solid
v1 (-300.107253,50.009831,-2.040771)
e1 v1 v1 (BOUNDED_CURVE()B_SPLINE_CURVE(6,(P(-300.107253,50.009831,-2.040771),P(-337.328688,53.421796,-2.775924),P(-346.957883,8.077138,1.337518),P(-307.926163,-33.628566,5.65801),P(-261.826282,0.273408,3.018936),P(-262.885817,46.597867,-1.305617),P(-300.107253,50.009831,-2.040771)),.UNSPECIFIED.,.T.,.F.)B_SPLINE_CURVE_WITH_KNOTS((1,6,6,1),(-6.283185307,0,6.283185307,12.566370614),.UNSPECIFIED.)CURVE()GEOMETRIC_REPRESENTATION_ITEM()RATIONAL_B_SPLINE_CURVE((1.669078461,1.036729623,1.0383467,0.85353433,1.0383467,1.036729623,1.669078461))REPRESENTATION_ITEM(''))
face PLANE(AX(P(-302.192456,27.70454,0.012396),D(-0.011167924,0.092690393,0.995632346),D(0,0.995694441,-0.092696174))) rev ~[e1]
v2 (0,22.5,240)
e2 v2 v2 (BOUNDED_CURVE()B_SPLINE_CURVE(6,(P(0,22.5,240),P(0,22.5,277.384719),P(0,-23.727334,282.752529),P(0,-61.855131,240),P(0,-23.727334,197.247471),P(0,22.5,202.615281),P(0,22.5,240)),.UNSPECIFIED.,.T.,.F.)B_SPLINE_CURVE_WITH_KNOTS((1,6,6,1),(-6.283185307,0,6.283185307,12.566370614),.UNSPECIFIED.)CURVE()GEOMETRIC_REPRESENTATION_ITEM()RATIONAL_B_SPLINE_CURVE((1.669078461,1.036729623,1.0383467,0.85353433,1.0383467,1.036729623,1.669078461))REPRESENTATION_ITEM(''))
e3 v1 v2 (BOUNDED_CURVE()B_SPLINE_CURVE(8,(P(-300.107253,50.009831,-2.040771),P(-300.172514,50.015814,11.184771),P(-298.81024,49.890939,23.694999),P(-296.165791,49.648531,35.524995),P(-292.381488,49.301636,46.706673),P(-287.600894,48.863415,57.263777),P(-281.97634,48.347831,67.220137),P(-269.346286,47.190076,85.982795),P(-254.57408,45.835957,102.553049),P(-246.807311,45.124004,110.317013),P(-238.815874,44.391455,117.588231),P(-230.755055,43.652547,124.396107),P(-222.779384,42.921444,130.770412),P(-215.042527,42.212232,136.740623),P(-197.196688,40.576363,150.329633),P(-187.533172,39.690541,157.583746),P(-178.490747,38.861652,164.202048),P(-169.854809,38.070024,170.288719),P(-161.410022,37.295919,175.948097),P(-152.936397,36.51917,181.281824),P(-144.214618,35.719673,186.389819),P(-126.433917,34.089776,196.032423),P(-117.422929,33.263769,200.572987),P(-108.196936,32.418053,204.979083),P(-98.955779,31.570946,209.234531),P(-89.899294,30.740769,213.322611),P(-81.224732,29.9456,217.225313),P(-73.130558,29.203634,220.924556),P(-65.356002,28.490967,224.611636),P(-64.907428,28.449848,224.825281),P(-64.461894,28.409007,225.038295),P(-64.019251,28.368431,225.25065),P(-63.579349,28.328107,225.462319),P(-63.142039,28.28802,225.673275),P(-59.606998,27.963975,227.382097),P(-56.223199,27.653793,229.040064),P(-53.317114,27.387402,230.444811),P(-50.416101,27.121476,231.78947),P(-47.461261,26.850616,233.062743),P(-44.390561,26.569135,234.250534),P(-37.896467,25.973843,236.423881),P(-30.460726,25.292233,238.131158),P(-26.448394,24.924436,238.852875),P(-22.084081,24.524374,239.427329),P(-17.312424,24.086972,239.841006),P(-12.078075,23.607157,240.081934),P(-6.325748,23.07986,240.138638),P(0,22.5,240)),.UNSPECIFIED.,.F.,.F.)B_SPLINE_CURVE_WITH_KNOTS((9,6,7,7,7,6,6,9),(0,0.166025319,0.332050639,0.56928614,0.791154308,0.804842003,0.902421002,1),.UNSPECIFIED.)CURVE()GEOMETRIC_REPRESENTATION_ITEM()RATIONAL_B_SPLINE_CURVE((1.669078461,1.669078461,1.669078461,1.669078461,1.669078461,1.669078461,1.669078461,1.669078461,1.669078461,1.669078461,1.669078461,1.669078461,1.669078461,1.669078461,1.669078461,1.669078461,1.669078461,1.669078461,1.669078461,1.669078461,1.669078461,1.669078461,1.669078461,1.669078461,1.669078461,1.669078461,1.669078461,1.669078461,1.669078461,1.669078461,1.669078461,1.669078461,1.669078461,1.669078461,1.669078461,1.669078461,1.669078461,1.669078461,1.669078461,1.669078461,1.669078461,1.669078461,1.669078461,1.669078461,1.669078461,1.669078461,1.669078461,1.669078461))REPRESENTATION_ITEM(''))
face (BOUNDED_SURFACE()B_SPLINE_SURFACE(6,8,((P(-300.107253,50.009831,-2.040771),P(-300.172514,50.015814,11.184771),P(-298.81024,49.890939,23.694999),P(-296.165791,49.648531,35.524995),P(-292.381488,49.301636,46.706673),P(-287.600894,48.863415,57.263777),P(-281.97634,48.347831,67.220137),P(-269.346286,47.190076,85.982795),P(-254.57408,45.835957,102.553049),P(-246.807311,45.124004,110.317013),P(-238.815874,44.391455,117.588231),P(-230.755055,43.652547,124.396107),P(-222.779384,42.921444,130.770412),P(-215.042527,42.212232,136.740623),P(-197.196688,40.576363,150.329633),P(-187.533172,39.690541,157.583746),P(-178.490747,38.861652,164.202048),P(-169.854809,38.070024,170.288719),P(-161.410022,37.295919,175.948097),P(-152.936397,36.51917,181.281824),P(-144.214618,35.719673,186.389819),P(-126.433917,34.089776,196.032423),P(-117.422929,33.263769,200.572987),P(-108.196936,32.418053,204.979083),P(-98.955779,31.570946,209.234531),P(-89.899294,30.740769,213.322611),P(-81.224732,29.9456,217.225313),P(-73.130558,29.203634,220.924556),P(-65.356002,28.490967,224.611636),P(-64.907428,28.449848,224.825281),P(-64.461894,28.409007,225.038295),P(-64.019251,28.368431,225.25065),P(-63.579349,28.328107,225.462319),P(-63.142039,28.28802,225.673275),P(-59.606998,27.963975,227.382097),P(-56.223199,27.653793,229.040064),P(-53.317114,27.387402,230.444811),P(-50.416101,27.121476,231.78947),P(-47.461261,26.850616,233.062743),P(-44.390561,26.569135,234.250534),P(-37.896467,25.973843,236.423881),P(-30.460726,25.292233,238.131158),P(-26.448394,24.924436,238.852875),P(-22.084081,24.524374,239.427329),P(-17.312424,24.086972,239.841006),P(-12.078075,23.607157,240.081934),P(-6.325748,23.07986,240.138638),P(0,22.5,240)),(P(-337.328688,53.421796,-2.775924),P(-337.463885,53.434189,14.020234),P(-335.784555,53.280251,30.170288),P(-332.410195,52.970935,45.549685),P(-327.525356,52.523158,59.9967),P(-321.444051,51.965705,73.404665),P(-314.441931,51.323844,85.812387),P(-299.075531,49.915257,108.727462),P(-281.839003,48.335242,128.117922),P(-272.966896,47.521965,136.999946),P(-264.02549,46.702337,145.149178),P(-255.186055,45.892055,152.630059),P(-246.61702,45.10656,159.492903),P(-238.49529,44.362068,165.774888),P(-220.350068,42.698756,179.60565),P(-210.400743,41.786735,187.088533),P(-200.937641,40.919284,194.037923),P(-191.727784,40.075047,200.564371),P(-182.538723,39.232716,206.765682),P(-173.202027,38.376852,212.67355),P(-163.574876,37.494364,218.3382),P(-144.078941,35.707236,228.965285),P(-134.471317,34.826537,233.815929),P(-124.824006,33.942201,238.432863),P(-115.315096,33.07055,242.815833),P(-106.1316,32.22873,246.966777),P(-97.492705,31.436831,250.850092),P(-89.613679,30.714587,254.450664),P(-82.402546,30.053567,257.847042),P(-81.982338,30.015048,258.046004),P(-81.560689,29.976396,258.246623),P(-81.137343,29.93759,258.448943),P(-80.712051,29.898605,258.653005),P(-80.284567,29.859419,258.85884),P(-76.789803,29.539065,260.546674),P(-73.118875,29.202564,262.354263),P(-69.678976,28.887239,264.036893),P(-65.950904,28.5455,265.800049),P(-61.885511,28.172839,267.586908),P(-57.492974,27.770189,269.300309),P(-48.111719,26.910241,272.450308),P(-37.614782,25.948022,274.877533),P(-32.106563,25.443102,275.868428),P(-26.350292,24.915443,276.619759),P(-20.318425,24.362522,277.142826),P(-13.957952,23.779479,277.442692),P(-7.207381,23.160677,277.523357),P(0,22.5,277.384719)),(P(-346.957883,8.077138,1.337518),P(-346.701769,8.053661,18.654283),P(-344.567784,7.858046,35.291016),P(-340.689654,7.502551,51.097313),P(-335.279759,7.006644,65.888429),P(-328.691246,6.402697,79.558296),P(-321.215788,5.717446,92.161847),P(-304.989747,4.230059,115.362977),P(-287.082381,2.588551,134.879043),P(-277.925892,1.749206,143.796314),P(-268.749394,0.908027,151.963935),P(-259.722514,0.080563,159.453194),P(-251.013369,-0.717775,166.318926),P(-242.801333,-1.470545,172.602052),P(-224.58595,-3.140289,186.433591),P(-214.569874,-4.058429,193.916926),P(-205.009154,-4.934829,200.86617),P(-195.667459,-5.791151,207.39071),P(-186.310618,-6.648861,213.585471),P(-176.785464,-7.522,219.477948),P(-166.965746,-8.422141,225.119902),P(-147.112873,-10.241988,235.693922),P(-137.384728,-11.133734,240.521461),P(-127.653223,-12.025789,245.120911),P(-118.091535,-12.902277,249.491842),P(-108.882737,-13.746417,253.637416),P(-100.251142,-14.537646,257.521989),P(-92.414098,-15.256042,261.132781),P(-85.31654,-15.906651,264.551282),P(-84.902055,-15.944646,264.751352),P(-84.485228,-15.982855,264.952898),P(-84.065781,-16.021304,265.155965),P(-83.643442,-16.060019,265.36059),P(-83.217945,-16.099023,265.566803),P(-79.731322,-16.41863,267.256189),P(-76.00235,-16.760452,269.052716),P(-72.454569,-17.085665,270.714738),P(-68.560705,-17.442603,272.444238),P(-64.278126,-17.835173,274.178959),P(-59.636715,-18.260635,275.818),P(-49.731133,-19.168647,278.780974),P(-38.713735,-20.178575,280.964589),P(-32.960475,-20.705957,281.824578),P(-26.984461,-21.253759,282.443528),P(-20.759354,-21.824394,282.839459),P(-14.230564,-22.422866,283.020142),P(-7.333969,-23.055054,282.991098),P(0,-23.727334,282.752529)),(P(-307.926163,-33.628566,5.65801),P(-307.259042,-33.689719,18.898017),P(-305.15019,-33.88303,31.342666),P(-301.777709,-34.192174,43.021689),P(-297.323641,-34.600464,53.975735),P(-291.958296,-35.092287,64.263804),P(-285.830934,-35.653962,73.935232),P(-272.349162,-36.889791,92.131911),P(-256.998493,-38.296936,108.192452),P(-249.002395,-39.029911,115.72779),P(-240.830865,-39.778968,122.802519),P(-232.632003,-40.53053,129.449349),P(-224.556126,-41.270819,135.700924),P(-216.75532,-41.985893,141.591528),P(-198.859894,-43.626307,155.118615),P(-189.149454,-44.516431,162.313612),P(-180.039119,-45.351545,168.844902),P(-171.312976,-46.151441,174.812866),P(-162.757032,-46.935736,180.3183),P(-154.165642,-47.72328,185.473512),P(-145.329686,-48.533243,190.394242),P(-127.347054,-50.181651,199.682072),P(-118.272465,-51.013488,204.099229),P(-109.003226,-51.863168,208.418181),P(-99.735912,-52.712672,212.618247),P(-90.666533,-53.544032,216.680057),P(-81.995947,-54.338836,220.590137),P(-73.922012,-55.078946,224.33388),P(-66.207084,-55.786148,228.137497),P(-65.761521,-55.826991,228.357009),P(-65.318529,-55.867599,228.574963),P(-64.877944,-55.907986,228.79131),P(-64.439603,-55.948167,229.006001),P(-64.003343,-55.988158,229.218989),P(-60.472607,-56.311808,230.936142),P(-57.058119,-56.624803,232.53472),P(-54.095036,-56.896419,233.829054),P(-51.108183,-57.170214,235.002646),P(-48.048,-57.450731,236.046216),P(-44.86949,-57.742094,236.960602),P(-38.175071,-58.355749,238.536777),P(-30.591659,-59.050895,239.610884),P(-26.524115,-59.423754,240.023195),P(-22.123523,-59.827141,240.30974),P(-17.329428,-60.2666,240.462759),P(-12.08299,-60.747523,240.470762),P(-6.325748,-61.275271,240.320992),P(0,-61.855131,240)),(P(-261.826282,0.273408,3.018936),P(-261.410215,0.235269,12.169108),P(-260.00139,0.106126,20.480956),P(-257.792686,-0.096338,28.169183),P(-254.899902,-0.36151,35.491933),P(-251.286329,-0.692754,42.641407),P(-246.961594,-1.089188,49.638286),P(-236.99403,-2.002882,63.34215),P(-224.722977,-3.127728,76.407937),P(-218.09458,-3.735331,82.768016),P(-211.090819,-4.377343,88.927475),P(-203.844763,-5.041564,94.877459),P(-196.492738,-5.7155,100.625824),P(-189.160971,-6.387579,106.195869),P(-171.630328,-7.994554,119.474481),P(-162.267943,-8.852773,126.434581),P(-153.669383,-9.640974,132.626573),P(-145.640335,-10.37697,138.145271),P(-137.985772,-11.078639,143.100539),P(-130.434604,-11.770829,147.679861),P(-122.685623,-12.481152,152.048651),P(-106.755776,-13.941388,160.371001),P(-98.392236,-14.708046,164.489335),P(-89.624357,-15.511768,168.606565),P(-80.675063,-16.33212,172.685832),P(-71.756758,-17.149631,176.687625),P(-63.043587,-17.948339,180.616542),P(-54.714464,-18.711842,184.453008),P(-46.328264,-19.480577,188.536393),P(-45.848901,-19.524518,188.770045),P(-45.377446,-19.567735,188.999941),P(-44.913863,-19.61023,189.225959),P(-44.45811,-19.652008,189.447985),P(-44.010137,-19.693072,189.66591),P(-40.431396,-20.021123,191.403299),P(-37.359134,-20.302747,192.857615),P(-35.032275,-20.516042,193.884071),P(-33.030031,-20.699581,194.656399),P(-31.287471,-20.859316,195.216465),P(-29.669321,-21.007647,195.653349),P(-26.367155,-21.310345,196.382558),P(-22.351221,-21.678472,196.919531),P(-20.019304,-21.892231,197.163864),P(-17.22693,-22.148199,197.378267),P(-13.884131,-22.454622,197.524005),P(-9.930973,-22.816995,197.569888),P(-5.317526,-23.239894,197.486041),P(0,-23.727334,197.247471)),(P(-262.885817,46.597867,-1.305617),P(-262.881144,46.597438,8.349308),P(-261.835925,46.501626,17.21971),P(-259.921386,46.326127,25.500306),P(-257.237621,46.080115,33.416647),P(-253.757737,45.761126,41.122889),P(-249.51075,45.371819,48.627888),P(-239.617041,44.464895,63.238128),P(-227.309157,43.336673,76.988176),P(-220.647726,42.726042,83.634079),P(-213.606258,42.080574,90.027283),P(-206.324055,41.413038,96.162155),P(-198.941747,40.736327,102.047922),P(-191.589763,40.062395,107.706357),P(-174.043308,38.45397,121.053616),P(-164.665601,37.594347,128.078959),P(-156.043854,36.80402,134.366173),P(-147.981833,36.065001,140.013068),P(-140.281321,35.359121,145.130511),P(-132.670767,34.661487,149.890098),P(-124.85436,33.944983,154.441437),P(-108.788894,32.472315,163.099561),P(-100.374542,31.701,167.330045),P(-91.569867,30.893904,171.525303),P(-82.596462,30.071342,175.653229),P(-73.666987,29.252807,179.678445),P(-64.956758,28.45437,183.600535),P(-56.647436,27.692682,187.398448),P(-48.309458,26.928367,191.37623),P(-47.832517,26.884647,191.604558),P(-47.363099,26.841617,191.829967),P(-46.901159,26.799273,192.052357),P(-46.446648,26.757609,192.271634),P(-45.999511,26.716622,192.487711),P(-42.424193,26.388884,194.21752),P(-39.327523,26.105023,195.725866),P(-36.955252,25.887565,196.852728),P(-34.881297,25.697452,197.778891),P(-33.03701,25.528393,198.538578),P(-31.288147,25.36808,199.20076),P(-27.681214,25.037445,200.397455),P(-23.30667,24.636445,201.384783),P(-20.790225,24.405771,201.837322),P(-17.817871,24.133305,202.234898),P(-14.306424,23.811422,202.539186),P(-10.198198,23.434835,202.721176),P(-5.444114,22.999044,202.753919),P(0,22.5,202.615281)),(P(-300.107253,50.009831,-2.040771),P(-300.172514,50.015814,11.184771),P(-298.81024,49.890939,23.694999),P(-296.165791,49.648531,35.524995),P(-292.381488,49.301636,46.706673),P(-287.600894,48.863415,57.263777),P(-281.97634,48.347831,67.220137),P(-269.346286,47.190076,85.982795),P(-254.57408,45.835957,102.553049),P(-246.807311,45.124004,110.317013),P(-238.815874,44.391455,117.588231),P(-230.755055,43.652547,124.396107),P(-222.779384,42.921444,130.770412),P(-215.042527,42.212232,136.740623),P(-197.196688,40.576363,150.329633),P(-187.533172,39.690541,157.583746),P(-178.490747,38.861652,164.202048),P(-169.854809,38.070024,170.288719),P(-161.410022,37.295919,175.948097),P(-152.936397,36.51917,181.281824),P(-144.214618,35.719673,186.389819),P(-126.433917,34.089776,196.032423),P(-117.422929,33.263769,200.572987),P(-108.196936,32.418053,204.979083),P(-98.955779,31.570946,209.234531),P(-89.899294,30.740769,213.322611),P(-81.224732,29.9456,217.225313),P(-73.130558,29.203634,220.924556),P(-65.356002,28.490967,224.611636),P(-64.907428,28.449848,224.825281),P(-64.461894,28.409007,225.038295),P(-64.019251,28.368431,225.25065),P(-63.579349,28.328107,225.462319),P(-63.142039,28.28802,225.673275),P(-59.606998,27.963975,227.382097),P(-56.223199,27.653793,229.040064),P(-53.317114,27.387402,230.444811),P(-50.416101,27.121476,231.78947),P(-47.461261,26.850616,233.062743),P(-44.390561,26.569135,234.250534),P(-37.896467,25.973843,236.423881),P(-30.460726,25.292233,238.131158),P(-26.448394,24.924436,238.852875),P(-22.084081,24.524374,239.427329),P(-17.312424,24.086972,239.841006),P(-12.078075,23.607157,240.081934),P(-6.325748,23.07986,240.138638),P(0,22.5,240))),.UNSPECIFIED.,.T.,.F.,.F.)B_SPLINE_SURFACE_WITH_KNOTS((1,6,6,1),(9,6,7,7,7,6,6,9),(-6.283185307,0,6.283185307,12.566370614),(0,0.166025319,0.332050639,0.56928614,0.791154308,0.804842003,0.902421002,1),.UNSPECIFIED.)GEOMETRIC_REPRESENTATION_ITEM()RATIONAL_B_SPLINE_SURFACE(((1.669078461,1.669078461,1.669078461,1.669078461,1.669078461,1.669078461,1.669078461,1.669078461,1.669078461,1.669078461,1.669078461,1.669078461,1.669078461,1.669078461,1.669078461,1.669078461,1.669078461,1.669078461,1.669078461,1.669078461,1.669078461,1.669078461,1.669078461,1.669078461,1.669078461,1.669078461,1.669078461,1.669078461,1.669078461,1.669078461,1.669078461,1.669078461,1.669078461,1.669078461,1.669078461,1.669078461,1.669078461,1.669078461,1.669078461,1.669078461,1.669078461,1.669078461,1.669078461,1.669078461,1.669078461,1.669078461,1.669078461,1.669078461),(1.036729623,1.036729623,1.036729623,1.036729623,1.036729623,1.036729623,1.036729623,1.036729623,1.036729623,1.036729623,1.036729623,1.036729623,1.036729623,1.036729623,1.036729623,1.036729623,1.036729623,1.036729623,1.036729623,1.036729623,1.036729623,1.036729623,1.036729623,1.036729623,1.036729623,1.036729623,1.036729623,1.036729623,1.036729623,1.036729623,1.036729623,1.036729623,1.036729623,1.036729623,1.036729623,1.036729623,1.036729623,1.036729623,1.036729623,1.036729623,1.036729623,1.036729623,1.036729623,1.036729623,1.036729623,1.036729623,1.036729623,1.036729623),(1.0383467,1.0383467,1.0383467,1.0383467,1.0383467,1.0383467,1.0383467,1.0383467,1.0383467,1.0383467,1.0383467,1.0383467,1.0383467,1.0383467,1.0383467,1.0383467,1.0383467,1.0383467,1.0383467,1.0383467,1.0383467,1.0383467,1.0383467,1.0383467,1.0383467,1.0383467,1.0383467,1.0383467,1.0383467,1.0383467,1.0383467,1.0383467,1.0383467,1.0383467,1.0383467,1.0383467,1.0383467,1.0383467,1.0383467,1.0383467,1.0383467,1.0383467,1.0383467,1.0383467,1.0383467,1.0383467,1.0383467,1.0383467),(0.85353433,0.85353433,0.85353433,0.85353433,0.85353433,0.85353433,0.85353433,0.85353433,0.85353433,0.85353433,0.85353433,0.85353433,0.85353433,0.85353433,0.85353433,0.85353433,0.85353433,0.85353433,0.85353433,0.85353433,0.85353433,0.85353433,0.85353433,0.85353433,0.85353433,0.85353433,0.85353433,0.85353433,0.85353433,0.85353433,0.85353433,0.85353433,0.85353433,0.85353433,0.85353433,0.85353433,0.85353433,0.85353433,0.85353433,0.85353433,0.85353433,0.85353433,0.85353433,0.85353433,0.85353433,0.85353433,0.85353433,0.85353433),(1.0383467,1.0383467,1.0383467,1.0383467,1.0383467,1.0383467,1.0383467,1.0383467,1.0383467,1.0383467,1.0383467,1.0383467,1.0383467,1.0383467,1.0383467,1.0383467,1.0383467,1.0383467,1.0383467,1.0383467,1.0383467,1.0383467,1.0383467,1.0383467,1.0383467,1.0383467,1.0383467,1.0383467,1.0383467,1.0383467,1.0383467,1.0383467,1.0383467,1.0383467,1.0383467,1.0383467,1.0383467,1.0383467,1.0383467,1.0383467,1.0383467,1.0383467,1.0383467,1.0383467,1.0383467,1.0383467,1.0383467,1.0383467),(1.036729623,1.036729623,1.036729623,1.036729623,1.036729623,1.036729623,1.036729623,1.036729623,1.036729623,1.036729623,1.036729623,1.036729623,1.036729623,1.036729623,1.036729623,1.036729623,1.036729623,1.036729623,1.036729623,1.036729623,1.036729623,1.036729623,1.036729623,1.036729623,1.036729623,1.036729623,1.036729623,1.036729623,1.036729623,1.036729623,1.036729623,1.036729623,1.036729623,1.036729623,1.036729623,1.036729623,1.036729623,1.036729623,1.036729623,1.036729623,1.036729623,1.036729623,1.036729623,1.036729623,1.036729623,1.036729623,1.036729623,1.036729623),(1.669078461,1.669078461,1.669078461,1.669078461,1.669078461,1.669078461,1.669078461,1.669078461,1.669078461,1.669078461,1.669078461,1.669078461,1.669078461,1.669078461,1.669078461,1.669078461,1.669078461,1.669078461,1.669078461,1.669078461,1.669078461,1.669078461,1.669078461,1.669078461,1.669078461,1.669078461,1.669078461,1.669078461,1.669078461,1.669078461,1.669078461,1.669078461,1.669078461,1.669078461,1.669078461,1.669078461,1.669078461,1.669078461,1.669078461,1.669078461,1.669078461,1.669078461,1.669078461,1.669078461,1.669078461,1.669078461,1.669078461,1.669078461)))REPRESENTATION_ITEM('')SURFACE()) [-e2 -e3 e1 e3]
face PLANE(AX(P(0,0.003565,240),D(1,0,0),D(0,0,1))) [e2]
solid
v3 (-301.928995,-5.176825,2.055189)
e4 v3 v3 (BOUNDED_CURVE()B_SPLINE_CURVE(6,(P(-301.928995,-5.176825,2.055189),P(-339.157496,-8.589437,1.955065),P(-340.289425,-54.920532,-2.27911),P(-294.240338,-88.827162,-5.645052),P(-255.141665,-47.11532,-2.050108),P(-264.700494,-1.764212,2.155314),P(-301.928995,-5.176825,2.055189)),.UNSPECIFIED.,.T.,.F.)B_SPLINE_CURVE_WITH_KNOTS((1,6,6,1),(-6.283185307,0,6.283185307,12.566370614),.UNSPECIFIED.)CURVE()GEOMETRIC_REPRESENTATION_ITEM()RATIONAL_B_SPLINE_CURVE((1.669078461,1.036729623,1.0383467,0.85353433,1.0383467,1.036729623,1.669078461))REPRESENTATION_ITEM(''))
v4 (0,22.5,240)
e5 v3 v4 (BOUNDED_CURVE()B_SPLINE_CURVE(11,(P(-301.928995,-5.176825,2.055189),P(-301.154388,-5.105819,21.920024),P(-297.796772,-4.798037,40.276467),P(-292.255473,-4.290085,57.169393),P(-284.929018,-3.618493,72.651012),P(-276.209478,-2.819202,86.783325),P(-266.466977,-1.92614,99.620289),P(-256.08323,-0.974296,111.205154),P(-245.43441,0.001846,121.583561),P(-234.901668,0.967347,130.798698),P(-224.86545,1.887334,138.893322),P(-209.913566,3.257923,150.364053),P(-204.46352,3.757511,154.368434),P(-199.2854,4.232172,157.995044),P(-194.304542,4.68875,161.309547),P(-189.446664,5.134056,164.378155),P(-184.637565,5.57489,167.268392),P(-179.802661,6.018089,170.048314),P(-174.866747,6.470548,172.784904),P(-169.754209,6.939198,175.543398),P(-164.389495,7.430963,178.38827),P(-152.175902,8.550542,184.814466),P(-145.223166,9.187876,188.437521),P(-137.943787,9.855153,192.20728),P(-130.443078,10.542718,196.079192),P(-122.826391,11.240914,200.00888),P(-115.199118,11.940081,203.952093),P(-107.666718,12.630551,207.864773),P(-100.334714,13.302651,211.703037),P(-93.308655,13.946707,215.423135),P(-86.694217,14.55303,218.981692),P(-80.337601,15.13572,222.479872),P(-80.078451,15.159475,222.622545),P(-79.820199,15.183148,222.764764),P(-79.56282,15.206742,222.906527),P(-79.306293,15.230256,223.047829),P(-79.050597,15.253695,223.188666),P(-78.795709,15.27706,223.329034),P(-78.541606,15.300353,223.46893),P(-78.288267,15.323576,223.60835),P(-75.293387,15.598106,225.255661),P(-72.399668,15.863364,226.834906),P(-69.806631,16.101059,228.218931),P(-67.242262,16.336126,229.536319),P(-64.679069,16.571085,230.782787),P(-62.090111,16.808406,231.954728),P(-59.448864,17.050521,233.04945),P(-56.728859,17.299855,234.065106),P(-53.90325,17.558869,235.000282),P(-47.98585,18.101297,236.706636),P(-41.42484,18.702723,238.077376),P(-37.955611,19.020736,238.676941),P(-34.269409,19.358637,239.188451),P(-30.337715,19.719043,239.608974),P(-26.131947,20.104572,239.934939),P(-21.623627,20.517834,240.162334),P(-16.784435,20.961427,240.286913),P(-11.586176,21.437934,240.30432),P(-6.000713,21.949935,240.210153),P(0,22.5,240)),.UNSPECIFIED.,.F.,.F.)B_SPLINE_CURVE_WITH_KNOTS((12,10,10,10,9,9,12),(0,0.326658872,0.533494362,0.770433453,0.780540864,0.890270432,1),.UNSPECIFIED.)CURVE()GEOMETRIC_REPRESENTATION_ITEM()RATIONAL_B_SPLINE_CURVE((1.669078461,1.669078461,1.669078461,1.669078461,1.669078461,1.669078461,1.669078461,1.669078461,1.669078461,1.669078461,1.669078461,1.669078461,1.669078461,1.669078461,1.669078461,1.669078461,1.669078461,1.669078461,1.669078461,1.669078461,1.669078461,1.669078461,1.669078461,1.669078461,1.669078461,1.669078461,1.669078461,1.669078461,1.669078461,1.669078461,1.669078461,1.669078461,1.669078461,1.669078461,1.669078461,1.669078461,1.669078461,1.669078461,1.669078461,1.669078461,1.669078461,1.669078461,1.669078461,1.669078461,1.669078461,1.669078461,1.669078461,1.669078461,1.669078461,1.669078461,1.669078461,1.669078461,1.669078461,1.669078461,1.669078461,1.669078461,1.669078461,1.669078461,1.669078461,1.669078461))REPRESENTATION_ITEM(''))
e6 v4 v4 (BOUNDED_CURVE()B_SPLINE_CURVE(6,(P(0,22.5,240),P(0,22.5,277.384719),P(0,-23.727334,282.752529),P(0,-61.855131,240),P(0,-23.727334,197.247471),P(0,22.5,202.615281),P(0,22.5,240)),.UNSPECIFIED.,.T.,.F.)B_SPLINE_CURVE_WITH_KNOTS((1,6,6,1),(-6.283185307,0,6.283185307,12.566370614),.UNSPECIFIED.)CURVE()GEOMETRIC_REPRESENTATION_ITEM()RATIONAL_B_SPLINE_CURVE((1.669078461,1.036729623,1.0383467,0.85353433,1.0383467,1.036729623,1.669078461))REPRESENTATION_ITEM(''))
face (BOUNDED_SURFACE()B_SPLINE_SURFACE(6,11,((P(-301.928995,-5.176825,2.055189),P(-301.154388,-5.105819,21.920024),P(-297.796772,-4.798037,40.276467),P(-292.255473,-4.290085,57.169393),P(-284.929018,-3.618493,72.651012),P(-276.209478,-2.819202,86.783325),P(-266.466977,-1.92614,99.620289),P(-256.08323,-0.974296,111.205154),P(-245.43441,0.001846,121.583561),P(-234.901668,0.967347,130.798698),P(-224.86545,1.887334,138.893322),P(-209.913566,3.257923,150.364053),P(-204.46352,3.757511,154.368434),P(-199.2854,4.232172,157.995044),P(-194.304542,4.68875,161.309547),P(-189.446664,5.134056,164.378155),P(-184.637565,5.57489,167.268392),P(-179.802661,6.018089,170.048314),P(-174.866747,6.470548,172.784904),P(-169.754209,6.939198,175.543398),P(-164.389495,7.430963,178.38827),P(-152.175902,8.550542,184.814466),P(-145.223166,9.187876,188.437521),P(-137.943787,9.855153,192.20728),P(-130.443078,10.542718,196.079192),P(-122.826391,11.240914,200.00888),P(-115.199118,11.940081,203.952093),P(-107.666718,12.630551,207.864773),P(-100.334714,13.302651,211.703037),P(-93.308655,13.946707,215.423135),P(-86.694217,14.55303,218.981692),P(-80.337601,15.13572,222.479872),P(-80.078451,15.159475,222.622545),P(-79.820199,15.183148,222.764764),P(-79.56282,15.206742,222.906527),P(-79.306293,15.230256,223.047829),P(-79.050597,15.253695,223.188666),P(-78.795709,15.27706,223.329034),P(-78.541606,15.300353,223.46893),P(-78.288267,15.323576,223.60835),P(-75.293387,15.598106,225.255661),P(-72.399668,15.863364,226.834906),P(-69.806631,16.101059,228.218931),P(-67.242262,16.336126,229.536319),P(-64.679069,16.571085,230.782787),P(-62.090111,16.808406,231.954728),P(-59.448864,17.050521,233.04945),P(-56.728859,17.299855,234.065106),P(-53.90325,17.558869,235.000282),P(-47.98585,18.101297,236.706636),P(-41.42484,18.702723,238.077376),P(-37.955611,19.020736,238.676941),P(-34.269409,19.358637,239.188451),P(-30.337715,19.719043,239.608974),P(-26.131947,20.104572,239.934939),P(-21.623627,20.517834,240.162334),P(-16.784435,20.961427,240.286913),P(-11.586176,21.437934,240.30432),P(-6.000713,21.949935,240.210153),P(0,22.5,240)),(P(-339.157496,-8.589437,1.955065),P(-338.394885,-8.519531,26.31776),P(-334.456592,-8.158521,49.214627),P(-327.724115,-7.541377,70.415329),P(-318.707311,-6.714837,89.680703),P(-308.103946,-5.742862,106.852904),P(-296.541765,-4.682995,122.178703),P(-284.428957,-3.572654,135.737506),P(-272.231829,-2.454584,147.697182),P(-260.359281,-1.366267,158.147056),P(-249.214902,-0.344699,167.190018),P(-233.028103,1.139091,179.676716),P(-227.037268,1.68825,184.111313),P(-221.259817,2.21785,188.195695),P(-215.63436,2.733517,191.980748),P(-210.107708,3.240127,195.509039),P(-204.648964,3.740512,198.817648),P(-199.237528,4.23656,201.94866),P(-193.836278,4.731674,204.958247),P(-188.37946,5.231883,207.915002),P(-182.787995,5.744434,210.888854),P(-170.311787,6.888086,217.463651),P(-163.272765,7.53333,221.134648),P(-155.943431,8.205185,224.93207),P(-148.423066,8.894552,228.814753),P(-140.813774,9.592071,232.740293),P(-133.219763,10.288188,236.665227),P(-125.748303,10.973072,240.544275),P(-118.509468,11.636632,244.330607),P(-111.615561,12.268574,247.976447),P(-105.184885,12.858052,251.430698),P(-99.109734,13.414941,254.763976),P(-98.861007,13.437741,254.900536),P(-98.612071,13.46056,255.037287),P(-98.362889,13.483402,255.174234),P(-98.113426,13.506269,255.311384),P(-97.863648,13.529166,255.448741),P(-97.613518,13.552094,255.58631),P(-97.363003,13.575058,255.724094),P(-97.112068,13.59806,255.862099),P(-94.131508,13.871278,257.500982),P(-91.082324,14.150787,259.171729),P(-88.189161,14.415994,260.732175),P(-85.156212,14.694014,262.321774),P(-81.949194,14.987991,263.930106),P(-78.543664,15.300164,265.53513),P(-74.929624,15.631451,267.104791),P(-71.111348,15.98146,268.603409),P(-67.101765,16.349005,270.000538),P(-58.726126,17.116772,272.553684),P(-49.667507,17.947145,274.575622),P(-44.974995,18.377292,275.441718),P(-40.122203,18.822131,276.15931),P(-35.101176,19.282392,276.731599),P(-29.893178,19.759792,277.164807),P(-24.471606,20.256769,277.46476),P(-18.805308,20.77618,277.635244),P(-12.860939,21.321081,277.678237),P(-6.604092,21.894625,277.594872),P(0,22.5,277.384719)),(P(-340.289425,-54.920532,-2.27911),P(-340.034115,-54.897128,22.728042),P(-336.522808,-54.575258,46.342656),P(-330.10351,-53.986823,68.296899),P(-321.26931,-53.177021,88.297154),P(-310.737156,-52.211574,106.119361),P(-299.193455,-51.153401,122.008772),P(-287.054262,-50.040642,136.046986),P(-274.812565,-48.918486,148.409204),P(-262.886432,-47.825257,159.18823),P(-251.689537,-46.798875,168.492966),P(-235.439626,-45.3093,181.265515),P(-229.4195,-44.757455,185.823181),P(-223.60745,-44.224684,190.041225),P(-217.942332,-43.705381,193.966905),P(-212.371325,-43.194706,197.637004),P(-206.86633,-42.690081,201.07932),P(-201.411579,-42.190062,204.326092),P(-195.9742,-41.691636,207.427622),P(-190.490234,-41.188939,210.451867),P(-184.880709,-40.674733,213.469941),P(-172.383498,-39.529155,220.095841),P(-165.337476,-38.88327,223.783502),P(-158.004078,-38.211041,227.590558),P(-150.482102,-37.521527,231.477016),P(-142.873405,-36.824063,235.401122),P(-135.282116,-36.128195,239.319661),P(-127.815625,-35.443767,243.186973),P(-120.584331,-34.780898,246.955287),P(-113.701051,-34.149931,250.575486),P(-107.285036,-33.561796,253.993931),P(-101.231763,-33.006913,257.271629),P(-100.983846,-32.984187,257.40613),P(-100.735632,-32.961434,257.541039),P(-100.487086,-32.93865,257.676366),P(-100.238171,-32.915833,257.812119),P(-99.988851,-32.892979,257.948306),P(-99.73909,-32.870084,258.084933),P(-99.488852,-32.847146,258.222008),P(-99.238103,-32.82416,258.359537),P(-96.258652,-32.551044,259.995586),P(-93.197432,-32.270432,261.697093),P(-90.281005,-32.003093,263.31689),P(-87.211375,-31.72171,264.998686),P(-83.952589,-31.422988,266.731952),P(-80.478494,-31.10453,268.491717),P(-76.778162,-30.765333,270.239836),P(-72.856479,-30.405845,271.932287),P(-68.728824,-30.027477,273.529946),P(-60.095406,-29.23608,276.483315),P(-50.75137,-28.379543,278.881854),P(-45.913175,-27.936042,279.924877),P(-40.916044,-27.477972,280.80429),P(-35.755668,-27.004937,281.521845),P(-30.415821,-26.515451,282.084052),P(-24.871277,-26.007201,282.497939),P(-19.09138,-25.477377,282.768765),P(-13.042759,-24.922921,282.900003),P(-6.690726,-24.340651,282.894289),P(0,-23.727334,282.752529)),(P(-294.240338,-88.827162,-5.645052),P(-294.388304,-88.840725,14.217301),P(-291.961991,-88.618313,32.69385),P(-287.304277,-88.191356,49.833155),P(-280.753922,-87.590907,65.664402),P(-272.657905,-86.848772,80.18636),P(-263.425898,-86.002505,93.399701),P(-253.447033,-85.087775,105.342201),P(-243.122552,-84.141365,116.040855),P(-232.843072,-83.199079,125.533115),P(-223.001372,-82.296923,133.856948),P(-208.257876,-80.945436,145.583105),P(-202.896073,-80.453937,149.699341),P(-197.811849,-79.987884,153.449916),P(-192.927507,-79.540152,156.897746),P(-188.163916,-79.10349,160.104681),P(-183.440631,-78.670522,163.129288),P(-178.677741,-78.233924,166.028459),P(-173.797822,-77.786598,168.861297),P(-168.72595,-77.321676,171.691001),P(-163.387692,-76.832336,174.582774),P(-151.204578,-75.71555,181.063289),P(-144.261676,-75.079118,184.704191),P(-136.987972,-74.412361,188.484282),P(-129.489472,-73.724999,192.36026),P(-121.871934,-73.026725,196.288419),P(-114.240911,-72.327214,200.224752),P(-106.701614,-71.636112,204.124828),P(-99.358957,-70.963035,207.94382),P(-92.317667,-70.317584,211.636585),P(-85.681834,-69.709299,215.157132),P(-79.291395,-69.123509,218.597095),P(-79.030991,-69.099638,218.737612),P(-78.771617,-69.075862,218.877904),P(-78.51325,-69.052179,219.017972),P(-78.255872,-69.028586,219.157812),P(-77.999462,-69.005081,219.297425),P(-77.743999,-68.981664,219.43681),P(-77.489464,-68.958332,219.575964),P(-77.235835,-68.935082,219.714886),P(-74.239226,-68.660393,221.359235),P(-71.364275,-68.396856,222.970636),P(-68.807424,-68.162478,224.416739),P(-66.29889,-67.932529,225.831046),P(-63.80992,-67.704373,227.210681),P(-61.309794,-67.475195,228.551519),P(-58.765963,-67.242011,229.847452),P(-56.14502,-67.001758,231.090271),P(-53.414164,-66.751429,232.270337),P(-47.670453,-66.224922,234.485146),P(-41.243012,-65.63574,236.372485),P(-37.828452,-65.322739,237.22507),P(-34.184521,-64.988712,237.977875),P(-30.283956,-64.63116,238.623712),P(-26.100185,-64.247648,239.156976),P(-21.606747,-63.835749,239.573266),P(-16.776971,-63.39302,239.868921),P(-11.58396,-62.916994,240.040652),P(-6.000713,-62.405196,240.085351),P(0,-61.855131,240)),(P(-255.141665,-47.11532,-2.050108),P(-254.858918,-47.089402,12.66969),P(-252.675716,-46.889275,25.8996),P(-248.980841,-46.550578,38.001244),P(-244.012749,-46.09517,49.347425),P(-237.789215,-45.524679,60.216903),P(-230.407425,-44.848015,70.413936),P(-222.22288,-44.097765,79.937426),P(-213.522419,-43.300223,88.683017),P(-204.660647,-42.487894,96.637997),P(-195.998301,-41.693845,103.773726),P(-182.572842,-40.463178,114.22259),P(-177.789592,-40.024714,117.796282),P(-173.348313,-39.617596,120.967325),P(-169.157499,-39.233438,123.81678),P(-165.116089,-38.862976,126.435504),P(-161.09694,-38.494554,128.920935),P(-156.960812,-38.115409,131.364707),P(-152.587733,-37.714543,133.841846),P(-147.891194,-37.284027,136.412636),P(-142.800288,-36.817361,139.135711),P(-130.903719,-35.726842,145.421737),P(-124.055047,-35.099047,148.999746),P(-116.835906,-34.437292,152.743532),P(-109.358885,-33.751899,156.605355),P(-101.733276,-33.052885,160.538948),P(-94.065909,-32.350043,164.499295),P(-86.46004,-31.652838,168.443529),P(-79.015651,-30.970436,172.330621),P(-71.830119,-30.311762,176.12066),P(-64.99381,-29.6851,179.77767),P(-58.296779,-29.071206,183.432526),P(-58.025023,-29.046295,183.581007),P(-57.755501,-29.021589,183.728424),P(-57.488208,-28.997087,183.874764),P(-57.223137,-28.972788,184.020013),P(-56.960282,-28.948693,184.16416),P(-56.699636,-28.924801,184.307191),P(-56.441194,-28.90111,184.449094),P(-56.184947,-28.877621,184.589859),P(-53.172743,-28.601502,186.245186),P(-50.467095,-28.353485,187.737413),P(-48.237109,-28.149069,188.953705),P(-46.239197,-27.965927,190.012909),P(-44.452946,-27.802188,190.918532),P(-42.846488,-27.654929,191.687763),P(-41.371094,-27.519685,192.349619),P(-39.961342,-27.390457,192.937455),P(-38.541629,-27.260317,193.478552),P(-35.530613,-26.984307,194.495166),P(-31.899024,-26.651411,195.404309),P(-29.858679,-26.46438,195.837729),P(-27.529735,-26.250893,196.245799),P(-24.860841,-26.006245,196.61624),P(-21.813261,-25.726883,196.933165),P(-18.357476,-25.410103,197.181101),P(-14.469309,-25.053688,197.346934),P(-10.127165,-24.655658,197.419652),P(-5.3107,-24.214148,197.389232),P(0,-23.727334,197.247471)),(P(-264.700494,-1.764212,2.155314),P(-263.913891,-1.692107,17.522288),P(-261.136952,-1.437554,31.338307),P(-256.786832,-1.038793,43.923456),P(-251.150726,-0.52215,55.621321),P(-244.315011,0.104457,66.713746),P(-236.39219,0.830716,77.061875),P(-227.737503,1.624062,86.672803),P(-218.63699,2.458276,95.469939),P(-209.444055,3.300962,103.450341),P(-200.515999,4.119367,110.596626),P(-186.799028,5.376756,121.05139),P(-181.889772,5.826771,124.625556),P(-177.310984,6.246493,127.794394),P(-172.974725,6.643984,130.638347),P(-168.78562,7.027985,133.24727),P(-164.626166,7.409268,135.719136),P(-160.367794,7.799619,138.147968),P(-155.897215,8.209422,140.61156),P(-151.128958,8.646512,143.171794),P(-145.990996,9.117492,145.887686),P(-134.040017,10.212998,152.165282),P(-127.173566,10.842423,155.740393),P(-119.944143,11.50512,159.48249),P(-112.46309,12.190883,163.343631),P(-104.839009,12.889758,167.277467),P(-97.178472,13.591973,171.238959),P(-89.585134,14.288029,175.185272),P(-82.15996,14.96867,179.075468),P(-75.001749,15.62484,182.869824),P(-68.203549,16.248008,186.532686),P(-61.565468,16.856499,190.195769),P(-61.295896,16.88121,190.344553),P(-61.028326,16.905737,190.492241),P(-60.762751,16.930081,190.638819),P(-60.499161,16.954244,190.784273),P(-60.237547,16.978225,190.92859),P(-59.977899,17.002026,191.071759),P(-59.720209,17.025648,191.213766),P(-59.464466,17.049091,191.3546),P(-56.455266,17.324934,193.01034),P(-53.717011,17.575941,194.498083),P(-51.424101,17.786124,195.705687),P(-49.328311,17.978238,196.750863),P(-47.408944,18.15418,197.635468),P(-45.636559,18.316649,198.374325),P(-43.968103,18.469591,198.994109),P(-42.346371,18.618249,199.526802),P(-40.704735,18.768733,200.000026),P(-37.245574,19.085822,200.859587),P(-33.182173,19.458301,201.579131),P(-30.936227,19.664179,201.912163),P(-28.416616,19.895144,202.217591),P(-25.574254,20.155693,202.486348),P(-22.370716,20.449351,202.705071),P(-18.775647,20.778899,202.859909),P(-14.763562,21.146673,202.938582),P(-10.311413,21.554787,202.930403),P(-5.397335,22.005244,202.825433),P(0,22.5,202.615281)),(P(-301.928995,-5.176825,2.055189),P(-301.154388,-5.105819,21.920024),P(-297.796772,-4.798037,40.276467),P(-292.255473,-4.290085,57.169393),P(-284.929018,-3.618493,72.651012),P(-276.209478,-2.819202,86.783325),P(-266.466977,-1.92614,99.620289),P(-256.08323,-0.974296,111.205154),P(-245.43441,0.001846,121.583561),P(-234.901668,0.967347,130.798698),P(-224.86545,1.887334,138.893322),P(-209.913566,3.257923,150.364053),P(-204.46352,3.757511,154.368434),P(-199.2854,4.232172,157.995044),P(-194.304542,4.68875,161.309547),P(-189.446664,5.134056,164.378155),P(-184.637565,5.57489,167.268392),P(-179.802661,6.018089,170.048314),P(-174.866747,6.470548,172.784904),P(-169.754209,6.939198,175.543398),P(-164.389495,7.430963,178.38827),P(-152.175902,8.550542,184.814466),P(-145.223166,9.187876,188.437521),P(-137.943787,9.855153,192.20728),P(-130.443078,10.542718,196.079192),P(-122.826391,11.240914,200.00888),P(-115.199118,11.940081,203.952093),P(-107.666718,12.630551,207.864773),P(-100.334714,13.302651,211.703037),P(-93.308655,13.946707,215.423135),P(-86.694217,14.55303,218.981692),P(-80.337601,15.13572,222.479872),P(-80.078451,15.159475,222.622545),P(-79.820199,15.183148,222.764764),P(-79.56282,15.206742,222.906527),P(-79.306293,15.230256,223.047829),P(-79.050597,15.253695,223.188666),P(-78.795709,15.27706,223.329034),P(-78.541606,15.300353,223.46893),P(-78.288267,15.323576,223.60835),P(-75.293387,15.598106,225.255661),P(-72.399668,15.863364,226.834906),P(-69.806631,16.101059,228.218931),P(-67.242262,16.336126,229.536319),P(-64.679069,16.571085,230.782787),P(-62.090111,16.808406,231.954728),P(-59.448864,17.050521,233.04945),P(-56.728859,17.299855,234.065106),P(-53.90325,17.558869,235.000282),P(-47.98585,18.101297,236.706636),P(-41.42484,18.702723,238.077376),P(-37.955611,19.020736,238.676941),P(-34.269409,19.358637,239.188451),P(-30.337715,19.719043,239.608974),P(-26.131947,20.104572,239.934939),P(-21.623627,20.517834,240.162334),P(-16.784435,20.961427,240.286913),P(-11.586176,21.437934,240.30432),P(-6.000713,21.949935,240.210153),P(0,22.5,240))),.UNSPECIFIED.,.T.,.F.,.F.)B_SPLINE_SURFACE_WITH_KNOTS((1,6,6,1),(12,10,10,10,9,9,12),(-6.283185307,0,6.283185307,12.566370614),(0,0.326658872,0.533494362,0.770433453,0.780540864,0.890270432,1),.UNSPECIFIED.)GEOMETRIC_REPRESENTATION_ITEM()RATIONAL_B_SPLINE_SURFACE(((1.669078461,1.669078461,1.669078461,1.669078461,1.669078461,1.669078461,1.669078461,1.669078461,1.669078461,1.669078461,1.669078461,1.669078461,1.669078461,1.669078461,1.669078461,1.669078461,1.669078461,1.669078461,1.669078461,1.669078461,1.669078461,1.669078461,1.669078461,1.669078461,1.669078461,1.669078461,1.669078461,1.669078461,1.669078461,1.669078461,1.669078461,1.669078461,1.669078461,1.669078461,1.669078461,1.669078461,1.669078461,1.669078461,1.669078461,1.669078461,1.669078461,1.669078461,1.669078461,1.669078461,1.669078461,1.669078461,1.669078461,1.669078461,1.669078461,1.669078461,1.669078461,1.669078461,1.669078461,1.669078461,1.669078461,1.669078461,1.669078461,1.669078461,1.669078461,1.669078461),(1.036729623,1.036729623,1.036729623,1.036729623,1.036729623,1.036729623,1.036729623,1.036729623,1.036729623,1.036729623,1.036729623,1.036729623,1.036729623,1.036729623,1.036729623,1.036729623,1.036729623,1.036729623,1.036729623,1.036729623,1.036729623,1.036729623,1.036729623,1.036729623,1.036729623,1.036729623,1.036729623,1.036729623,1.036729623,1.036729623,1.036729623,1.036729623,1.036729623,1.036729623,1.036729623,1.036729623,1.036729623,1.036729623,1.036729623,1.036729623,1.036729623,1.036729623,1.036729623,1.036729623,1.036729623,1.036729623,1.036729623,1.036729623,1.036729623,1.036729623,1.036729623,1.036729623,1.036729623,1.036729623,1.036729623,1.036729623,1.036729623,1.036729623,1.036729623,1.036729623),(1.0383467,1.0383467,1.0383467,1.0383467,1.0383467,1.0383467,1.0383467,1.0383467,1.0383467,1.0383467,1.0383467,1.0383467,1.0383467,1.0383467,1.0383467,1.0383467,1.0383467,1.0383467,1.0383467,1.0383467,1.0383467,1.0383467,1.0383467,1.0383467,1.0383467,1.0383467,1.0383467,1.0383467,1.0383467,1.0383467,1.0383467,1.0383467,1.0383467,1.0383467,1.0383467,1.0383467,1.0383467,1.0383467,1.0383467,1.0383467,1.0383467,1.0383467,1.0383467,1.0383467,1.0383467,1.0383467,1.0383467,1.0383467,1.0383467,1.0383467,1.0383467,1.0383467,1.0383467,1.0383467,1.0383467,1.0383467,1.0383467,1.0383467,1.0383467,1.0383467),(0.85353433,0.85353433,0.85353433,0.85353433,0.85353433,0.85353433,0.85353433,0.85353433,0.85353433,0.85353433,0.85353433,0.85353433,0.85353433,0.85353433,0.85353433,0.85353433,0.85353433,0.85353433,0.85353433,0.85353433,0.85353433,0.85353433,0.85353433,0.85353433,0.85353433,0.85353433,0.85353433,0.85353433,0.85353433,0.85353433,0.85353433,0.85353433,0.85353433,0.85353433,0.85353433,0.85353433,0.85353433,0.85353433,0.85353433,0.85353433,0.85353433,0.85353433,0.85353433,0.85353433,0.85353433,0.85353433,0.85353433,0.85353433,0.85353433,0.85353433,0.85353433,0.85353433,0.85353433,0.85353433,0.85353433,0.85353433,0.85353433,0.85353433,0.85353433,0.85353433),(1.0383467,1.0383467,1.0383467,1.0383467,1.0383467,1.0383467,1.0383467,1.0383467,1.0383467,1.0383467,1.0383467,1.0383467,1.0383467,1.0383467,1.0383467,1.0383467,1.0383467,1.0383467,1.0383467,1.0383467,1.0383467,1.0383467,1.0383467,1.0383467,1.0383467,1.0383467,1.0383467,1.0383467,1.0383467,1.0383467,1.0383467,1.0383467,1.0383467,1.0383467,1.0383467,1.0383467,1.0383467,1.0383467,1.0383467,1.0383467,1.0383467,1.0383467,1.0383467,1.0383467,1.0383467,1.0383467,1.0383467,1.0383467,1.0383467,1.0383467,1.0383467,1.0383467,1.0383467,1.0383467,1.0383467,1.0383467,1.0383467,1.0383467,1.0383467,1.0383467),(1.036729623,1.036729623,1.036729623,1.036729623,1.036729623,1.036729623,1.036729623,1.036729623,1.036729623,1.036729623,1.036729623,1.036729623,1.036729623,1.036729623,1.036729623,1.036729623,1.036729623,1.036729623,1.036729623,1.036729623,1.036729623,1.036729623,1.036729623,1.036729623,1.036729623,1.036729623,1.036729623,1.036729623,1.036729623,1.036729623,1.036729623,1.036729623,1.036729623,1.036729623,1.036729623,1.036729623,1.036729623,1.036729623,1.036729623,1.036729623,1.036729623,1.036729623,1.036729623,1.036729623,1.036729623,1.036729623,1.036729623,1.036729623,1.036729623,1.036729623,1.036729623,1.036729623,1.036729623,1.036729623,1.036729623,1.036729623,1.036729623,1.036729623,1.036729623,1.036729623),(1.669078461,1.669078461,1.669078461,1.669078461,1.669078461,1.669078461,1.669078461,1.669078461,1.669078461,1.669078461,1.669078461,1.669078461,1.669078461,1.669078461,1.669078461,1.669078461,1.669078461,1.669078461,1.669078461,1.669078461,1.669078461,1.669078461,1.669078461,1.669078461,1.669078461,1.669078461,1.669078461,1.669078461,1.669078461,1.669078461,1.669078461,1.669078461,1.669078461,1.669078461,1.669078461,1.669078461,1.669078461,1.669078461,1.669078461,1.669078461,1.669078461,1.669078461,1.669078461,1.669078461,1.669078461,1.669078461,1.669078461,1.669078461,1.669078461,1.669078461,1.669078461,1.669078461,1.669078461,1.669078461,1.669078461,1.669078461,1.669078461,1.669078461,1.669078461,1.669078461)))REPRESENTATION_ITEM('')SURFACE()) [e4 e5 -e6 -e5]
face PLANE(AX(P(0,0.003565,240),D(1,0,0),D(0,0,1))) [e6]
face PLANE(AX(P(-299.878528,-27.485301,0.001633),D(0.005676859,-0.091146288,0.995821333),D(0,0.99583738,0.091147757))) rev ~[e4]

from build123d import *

# Parameters (mm, degrees)
F0_R = 22.5


with BuildPart() as f6:
    # F6: sweep along a path in F4
    with BuildLine(Plane(origin=(0, 0, 0), x_dir=(0.9958249046, 0.0912839496, 0), z_dir=(0.0912839496, -0.9958249046, 0))) as f6_path:
        add(Plane(origin=(0, 0, 0), x_dir=(0.9958249046, 0.0912839496, 0), z_dir=(0.0912839496, -0.9958249046, 0)) * Edge.make_bspline(
            [(-301.6238510609, 0), (-299.6783624846, 73.0507487958), (-218.6742217353, 148.1879439232), (-163.2420062857, 179.3845648061), (-72.3955862133, 225.0543729483), (-46.28564834, 241.845120458), (0, 240.4883801937)],
            knots=[0, 0, 0, 0, 0.3266588724, 0.5334943619, 0.7704334531, 1, 1, 1, 1], degree=3))
    # F0 (on Right) → F6 (sweep)
    with BuildSketch(Plane.YZ):
        with Locations((0, 240)):
            Circle(F0_R)
    sweep(path=f6_path.line)


with BuildPart() as f7:
    # F7: sweep along a path in F5
    with BuildLine(Plane(origin=(0, 0, 0), x_dir=(0.9958249046, -0.0912839496, 0), z_dir=(-0.0912839496, -0.9958249046, 0))) as f7_path:
        add(Plane(origin=(0, 0, 0), x_dir=(0.9958249046, -0.0912839496, 0), z_dir=(-0.0912839496, -0.9958249046, 0)) * Edge.make_bspline(
            [(-304.1065335274, 0), (-303.4163117409, 70.8863213658), (-209.8047464329, 145.3432953957), (-141.8458937012, 193.1914440535), (-60.8153908333, 227.2268486002), (-36.342339803, 241.7157633975), (0, 240.6468987465)],
            knots=[0, 0, 0, 0, 0.3320506386, 0.56928614, 0.7911543082, 1, 1, 1, 1], degree=3))
    # F0 (on Right) → F7 (sweep)
    with BuildSketch(Plane.YZ):
        with Locations((0, 240)):
            Circle(F0_R)
    sweep(path=f7_path.line)


solid = Compound([f6.part, f7.part])
